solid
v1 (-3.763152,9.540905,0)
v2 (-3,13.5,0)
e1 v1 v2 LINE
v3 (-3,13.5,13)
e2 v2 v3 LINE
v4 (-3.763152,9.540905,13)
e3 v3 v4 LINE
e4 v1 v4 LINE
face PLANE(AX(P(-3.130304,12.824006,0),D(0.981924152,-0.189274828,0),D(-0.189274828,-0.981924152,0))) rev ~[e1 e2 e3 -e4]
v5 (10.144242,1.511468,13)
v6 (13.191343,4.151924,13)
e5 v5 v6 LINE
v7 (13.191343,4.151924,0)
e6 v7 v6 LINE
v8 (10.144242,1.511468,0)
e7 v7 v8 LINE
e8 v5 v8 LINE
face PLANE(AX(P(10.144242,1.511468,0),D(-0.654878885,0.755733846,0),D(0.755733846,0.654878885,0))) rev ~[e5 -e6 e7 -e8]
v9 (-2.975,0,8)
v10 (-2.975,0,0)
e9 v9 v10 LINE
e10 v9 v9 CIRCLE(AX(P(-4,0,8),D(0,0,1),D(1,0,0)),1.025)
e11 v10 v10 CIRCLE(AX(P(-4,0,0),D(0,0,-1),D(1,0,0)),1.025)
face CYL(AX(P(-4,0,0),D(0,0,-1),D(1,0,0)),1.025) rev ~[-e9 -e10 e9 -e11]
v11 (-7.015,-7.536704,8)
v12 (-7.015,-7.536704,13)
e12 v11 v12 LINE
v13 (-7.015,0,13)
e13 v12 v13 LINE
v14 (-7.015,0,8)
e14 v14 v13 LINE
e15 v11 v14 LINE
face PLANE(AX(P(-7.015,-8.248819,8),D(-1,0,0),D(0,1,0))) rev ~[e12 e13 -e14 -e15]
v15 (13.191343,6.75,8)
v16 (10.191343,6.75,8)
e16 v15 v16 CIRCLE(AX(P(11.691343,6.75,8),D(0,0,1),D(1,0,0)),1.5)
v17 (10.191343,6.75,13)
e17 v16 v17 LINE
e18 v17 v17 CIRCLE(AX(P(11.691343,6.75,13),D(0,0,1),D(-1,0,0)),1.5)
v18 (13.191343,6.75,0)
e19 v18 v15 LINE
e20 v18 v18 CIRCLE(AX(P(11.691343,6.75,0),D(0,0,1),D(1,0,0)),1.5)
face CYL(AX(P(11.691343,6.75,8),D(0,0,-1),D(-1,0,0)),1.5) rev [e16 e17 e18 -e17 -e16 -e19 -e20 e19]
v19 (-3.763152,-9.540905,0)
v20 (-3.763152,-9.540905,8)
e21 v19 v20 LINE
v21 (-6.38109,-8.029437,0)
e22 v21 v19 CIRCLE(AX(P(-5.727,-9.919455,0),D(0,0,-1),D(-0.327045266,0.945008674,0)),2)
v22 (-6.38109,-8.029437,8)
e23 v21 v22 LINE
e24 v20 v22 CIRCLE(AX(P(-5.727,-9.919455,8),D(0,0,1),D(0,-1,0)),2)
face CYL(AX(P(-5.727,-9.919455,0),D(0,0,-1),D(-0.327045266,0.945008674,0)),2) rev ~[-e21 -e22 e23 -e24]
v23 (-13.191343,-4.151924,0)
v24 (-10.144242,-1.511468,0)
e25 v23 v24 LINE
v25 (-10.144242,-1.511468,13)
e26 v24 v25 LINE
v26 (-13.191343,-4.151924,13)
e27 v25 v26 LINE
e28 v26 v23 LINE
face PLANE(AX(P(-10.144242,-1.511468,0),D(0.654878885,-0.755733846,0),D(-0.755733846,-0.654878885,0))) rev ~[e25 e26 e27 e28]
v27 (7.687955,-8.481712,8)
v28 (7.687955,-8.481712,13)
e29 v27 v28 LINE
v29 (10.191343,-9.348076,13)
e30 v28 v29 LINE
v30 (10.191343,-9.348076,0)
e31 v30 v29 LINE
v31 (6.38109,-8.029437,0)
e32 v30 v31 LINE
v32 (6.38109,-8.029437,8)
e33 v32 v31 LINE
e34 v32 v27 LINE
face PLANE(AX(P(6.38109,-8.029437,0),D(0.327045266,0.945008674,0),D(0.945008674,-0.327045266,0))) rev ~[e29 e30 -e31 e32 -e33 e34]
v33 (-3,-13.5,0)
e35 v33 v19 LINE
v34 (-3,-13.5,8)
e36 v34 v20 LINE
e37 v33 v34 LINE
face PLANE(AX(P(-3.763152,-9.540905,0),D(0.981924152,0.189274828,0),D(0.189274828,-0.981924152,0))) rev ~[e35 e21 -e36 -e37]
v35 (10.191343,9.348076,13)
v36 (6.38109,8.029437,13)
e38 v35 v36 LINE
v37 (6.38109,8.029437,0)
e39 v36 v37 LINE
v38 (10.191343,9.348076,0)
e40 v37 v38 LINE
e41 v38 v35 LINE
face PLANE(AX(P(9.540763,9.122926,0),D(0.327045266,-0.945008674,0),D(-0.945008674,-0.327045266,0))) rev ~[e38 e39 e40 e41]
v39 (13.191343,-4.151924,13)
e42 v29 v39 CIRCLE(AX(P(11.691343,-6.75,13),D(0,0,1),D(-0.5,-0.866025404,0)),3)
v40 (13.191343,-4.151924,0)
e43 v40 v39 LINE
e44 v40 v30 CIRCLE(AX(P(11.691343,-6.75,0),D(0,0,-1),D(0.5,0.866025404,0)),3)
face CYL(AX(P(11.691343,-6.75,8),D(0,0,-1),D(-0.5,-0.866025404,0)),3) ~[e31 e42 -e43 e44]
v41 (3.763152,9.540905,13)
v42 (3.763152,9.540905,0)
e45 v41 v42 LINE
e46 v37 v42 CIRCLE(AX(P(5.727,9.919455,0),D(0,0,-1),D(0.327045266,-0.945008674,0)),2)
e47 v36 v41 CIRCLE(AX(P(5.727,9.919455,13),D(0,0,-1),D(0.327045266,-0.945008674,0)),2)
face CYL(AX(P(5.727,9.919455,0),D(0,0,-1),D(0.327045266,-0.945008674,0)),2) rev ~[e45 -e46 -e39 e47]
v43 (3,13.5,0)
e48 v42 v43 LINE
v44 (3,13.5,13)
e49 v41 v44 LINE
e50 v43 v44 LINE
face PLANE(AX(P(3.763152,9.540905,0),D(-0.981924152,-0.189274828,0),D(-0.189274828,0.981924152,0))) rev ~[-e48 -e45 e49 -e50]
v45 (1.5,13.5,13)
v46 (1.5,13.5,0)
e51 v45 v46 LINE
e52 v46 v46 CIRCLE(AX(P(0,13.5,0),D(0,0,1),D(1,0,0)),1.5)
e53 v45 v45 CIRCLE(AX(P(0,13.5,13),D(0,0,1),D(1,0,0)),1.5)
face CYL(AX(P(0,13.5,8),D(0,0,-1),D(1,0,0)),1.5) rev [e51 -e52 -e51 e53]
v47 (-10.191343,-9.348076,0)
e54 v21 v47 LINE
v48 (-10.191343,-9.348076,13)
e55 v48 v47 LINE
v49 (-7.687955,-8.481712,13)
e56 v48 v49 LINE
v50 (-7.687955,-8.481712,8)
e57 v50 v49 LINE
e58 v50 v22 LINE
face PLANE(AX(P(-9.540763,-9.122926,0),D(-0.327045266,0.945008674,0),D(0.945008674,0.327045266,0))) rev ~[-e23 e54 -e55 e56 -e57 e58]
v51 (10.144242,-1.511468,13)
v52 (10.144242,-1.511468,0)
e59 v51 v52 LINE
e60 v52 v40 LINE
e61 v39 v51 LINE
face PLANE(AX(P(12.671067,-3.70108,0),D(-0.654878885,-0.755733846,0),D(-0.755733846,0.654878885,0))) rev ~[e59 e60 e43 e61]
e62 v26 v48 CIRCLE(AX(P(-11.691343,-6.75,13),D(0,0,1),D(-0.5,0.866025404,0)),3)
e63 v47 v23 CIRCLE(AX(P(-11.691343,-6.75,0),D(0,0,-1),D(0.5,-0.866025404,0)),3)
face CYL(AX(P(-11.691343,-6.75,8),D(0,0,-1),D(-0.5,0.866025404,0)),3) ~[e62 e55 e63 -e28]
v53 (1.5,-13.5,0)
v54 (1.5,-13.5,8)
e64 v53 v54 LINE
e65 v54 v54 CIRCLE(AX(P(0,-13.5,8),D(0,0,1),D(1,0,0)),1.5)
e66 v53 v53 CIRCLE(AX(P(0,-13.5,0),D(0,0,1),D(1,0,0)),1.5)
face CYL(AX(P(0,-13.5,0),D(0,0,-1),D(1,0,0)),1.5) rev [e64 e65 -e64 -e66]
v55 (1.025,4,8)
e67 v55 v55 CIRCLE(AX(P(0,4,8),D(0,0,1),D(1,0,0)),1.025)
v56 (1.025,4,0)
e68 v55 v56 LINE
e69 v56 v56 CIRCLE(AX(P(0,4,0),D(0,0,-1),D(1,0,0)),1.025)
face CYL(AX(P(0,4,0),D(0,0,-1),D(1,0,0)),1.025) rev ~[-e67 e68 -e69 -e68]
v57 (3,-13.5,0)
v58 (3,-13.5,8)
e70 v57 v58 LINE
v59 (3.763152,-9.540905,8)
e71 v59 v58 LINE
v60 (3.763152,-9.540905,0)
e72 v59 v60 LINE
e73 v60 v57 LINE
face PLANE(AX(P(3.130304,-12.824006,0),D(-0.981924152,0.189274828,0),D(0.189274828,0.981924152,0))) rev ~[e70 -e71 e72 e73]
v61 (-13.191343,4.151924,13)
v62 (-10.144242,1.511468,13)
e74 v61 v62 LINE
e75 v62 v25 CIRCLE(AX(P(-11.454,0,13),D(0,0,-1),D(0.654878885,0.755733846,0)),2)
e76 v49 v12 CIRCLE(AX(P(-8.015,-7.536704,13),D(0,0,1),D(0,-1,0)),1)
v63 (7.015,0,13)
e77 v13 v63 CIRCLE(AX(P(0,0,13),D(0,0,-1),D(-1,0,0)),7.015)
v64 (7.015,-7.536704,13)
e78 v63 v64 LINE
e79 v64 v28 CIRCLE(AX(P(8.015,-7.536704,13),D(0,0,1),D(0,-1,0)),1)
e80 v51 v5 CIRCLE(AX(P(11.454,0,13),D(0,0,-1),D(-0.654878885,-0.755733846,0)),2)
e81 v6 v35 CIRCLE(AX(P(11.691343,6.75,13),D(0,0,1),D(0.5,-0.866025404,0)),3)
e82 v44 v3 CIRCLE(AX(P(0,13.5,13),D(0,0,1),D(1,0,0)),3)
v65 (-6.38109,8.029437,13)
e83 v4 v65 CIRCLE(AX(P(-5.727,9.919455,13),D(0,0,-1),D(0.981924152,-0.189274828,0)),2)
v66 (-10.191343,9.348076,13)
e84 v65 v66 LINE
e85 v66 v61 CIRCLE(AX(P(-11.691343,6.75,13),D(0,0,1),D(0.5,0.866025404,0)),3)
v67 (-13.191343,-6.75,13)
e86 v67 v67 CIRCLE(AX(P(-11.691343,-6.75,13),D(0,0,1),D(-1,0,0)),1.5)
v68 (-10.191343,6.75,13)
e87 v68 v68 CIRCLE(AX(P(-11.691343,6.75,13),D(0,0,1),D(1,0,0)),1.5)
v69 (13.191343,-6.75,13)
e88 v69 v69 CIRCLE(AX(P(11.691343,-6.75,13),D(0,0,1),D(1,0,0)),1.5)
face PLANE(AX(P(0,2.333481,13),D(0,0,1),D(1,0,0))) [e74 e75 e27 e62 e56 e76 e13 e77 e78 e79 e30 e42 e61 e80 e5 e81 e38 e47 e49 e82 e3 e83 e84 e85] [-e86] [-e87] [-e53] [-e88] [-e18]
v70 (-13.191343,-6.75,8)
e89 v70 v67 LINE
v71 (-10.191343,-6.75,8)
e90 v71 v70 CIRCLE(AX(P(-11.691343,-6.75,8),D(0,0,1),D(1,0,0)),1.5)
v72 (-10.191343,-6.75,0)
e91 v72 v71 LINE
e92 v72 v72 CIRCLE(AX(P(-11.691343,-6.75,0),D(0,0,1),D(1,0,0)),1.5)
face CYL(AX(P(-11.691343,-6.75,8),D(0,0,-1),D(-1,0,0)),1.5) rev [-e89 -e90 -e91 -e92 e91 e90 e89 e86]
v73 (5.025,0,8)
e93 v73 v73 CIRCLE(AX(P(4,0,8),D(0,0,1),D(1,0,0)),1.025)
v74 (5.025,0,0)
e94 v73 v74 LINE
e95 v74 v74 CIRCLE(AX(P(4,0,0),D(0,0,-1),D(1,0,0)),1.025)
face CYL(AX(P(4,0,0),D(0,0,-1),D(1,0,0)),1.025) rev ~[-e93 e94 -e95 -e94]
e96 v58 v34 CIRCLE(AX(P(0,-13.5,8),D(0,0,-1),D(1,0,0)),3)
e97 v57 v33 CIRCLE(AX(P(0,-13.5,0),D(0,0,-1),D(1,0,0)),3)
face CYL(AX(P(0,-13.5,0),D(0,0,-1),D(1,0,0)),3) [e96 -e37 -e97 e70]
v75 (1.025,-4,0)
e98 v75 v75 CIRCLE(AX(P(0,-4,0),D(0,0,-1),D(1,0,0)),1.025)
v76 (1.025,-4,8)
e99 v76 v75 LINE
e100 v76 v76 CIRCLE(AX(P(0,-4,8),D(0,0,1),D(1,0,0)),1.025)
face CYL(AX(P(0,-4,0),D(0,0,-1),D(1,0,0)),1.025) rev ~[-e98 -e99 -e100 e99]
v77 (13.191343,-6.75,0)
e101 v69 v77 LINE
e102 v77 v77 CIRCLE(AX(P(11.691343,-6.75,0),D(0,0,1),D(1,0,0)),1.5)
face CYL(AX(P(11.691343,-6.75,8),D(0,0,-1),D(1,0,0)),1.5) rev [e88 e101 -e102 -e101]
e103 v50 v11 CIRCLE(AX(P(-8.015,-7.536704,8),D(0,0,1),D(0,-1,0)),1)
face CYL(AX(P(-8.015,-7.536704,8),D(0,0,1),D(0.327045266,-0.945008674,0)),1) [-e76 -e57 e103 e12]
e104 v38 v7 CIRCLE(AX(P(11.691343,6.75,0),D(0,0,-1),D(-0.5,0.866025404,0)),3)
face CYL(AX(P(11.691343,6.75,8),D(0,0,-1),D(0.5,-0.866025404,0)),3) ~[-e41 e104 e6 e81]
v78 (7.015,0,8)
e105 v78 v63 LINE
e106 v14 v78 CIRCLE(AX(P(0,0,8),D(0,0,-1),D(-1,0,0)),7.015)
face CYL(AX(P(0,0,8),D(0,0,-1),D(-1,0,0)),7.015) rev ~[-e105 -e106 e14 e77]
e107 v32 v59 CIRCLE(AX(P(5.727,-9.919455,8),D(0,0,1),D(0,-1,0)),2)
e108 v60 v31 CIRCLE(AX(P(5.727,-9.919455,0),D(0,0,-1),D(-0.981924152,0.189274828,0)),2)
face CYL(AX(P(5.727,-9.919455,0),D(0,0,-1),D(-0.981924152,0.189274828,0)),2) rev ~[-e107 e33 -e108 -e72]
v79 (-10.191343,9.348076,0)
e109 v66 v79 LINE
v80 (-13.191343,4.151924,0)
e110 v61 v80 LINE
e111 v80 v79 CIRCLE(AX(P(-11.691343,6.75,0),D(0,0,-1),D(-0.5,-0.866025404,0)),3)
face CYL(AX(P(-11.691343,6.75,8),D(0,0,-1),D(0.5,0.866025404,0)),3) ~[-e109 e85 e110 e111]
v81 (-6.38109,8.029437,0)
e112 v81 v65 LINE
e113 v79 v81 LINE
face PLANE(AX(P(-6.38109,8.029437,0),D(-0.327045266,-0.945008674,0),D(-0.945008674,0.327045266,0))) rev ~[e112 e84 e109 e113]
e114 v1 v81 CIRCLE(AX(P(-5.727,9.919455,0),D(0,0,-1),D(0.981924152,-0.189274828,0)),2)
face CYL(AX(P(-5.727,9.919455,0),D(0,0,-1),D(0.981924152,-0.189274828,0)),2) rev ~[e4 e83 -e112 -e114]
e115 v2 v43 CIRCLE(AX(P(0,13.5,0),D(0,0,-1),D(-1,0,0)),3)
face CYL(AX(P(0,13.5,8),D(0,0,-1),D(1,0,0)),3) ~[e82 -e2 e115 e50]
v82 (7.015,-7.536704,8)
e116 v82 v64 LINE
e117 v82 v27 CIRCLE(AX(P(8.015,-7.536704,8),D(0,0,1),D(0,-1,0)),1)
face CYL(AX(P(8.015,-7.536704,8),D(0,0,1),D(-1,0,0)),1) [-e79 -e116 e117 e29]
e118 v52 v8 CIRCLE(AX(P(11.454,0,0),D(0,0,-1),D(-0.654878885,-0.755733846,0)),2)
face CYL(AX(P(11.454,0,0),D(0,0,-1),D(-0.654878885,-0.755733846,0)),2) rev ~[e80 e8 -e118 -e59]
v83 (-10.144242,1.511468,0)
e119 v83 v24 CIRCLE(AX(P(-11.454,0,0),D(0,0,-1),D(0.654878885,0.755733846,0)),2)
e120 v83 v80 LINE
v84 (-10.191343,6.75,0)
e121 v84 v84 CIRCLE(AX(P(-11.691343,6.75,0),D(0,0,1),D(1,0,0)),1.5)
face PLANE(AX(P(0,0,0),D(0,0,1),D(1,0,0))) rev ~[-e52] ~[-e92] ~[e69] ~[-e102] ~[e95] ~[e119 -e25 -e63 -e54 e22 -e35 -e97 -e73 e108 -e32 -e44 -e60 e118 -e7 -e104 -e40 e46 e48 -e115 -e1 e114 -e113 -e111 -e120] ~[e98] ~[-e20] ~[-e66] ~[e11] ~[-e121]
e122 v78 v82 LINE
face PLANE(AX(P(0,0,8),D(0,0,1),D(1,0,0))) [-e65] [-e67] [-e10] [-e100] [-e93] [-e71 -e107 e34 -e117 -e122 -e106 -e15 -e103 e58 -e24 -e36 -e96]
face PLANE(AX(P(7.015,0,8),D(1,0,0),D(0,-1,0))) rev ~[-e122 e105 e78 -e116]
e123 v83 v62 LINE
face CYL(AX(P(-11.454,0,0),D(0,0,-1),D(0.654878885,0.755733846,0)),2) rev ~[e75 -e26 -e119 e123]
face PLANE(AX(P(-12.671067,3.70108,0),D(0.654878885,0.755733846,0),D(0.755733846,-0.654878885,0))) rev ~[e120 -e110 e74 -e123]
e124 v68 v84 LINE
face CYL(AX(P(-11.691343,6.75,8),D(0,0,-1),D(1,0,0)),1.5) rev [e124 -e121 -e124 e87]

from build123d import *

# Parameters (mm, degrees)
SKETCH_2_R          = 18
SKETCH_2_R_2        = 1.4999999999999998
SKETCH_2_R_3        = 1.5000000000000022
SKETCH_2_R_4        = 1.5000000000000007
SKETCH_2_R_5        = 10.499999999999998
SKETCH_2_R_6        = 1.4999999999999987
EXTRUDE_1_DEPTH     = 8
EXTRUDE_START       = -4
SKETCH_6_R          = 10.499999999999998
EXTRUDE_2_DEPTH     = 4
SKETCH_7_R          = 2.9999999999999996
SKETCH_7_R_2        = 1.5000000000000004
SKETCH_7_R_3        = 1.5000000000000013
EXTRUDE_3_DEPTH     = 4
SKETCH_9_R          = 1.025
SKETCH_9_R_2        = 1.0250000000000001
CUT_EXTRUDE_2_DEPTH = 4
CUT_EXTRUDE_3_DEPTH = 13.000000000000002
CUT_EXTRUDE_4_DEPTH = 23
CUT_EXTRUDE_START   = -8
SKETCH_13_R         = 18
CUT_EXTRUDE_5_DEPTH = 8
FILLET_6_R          = 2
FILLET_7_R          = 2
SKETCH_22_R         = 26.500000000000004
CUT_EXTRUDE_7_DEPTH = 4
SKETCH_23_R         = 1.5000000000000024
SKETCH_23_R_2       = 1.4999999999999998
EXTRUDE_4_DEPTH     = 5
FILLET_8_R          = 1
EXTRUDE_START_2     = 4
SKETCH_24_R         = 1.0250000000000001
SKETCH_24_R_2       = 1.025
EXTRUDE_5_DEPTH     = 4


with BuildPart() as part:
    # 草图2 → 凸台-拉伸1 (new body)
    with BuildSketch(Plane.XY):
        Circle(SKETCH_2_R)
        with Locations((0, 13.5)):
            Circle(SKETCH_2_R_2, mode=Mode.SUBTRACT)
        with Locations((11.691342951089924, -6.749999999999998)):
            Circle(SKETCH_2_R_3, mode=Mode.SUBTRACT)
        with Locations((-11.691342951089919, -6.750000000000006)):
            Circle(SKETCH_2_R_4, mode=Mode.SUBTRACT)
        Circle(SKETCH_2_R_5, mode=Mode.SUBTRACT)
        with Locations((0, -13.5)):
            Circle(SKETCH_2_R_2, mode=Mode.SUBTRACT)
        with Locations((-11.691342951089924, 6.749999999999997)):
            Circle(SKETCH_2_R_6, mode=Mode.SUBTRACT)
        with Locations((11.691342951089919, 6.750000000000008)):
            Circle(SKETCH_2_R_4, mode=Mode.SUBTRACT)
    extrude(amount=EXTRUDE_1_DEPTH)

    # 草图6 → 凸台-拉伸2 (add)
    with BuildSketch(Plane.XY.offset(8).offset(EXTRUDE_START)):
        Circle(SKETCH_6_R)
    extrude(amount=EXTRUDE_2_DEPTH)

    # 草图9 → 切除-拉伸2 (cut)
    with BuildSketch(Plane.XY.offset(8)):
        with Locations((0, 4)):
            Circle(SKETCH_9_R)
        with Locations((-4, 2.4e-16)):
            Circle(SKETCH_9_R_2)
        with Locations((4.9e-16, -4)):
            Circle(SKETCH_9_R)
        with Locations((4, 2.4e-16)):
            Circle(SKETCH_9_R_2)
    extrude(amount=-CUT_EXTRUDE_2_DEPTH, mode=Mode.SUBTRACT)

    # 草图13 → 切除-拉伸5 (cut)
    with BuildSketch(Plane.XY.offset(8).offset(CUT_EXTRUDE_START)):
        Circle(SKETCH_13_R)
        with BuildLine():
            Line((-4.2, 7.274613391789286), (-3.0000000000000004, 13.5))
            ThreePointArc((-3.0000000000000004, 13.5), (1.8e-16, 16.5), (3.0000000000000004, 13.5))
            Line((3.0000000000000004, 13.5), (4.2, 7.274613391789286))
            Line((4.2, 7.274613391789286), (10.191342951089922, 9.348076211353316))
            ThreePointArc((10.19134295108992, 9.34807621135332), (13.19134295108992, 9.34807621135332), (14.691342951089922, 6.750000000000004))
            ThreePointArc((14.691342951089922, 6.7500000000000036), (14.289419162443235, 5.250000000000002), (13.191342951089917, 4.151923788646687))
            Line((13.19134295108992, 4.151923788646681), (8.4, 8.9e-16))
            Line((8.4, 8.9e-16), (13.19134295108992, -4.151923788646685))
            ThreePointArc((13.191342951089924, -4.151923788646679), (14.289419162443242, -5.249999999999996), (14.691342951089926, -6.749999999999997))
            ThreePointArc((14.691342951089926, -6.749999999999998), (13.191342951089924, -9.348076211353316), (10.191342951089919, -9.348076211353312))
            Line((10.191342951089919, -9.348076211353318), (4.200000000000001, -7.274613391789285))
            Line((4.200000000000001, -7.274613391789285), (2.999999999999996, -13.5))
            ThreePointArc((3.000000000000002, -13.5), (1.18e-15, -16.5), (-2.9999999999999987, -13.5))
            Line((-3.000000000000005, -13.499999999999996), (-4.199999999999998, -7.274613391789289))
            Line((-4.199999999999998, -7.274613391789289), (-10.191342951089924, -9.34807621135331))
            ThreePointArc((-10.191342951089917, -9.348076211353325), (-14.289419162443238, -8.250000000000007), (-13.191342951089919, -4.1519237886466875))
            Line((-13.191342951089924, -4.151923788646676), (-8.4, -6.22e-15))
            Line((-8.4, -6.22e-15), (-13.191342951089919, 4.151923788646697))
            ThreePointArc((-13.191342951089933, 4.151923788646676), (-14.289419162443243, 8.249999999999995), (-10.191342951089926, 9.348076211353307))
            Line((-10.191342951089913, 9.348076211353327), (-4.2, 7.274613391789286))
        make_face(mode=Mode.SUBTRACT)
    extrude(amount=CUT_EXTRUDE_5_DEPTH, mode=Mode.SUBTRACT)

    # 圆角6
    fillet_6_edges = [part.edges().sort_by_distance(p)[0] for p in [
        (-3.7087365602143945, 9.823200757743328, 2),
        (-4.2, 7.274613391789286, 6),
        (-10.361509682787466, -1.6997403017818833, 2),
        (-3.708736560214394, -9.823200757743328, 2),
        (6.652773122573071, -8.123460455961444, 2),
        (10.361509682787464, 1.6997403017818842, 2),
        (3.7087365602143936, 9.823200757743328, 2),
        (-6.652773122573068, 8.123460455961448, 2),
        (-10.361509682787464, 1.6997403017818868, 2),
        (-8.4, -6.22e-15, 6),
        (-6.652773122573072, -8.123460455961444, 2),
        (-4.199999999999998, -7.274613391789289, 6),
        (3.7087365602143914, -9.823200757743328, 2),
        (4.200000000000001, -7.274613391789285, 6),
        (10.361509682787466, -1.6997403017818833, 2),
        (8.4, 8.9e-16, 6),
        (6.652773122573071, 8.123460455961444, 2),
        (4.2, 7.274613391789286, 6),
    ]]
    fillet(fillet_6_edges, radius=FILLET_6_R)

    # 草图23 → 凸台-拉伸4 (add)
    with BuildSketch(Plane.XY.offset(8)):
        with BuildLine():
            Line((7.015, 0), (7.015, -8.248818655070188))
            Line((7.015, -8.248818655070188), (10.191342951089933, -9.348076211353321))
            ThreePointArc((10.191342951089933, -9.348076211353321), (14.289419162443245, -8.249999999999993), (13.19134295108992, -4.151923788646683))
            Line((13.19134295108992, -4.151923788646683), (10.144242051851217, -1.5114676912433453))
            ThreePointArc((10.144242051851217, -1.5114676912433453), (9.45399982271097, 1.11e-15), (10.144242051851217, 1.5114676912433471))
            Line((10.144242051851217, 1.5114676912433471), (13.19134295108992, 4.151923788646685))
            ThreePointArc((13.19134295108992, 4.151923788646685), (14.289419162443243, 8.249999999999995), (10.191342951089933, 9.348076211353321))
            Line((10.191342951089933, 9.348076211353321), (7.015, 8.248818655070192))
            Line((7.015, 8.248818655070192), (6.381090443541757, 8.029437473419858))
            ThreePointArc((6.381090443541757, 8.029437473419858), (4.726999911355481, 8.187404013841277), (3.7631516083094527, 9.540905164663204))
            Line((3.7631516083094527, 9.540905164663204), (2.9999999999999996, 13.5))
            ThreePointArc((2.9999999999999996, 13.5), (1.8e-16, 16.5), (-2.9999999999999996, 13.5))
            Line((-2.9999999999999996, 13.5), (-3.7631516083094527, 9.540905164663204))
            ThreePointArc((-3.7631516083094527, 9.540905164663204), (-4.726999911355481, 8.187404013841277), (-6.381090443541757, 8.029437473419858))
            Line((-6.381090443541757, 8.029437473419858), (-7.015, 8.248818655070192))
            Line((-7.015, 8.248818655070192), (-10.191342951089933, 9.348076211353321))
            ThreePointArc((-10.191342951089933, 9.348076211353321), (-14.289419162443243, 8.249999999999995), (-13.19134295108992, 4.151923788646685))
            Line((-13.19134295108992, 4.151923788646685), (-10.144242051851217, 1.5114676912433471))
            ThreePointArc((-10.144242051851217, 1.5114676912433471), (-9.45399982271097, 8.7e-16), (-10.144242051851217, -1.5114676912433453))
            Line((-10.144242051851217, -1.5114676912433453), (-13.19134295108992, -4.151923788646683))
            ThreePointArc((-13.19134295108992, -4.151923788646683), (-14.289419162443245, -8.249999999999993), (-10.191342951089933, -9.348076211353321))
            Line((-10.191342951089933, -9.348076211353321), (-7.015, -8.248818655070188))
            Line((-7.015, -8.248818655070188), (-7.015, 0))
            ThreePointArc((-7.015, 0), (4.3e-16, 7.015), (7.015, 0))
        make_face()
        with Locations((11.691342951089924, -6.749999999999998)):
            Circle(SKETCH_23_R, mode=Mode.SUBTRACT)
        with Locations(Location((11.691342951089924, 6.75, 0), (0, 0, 180))):
            Circle(SKETCH_23_R, mode=Mode.SUBTRACT)
        with Locations((0, 13.5)):
            Circle(SKETCH_23_R_2, mode=Mode.SUBTRACT)
        with Locations(Location((-11.691342951089924, -6.749999999999998, 0), (0, 0, 180))):
            Circle(SKETCH_23_R, mode=Mode.SUBTRACT)
        with Locations((-11.691342951089924, 6.75)):
            Circle(SKETCH_23_R, mode=Mode.SUBTRACT)
    extrude(amount=EXTRUDE_4_DEPTH)

    # 圆角8
    fillet_8_edges = [part.edges().sort_by_distance(p)[0] for p in [
        (7.015, -8.248818655070188, 10.5),
        (-7.015, -8.248818655070188, 10.5),
    ]]
    fillet(fillet_8_edges, radius=FILLET_8_R)

    # 草图24 → 凸台-拉伸5 (add)
    with BuildSketch(Plane(origin=(0, 0, 4), x_dir=(-1, 0, 0), z_dir=(0, 0, -1)).offset(EXTRUDE_START_2)):
        with BuildLine():
            Line((-3.7631516083094545, 9.540905164663204), (-3.130304023425084, 12.824005897977921))
            ThreePointArc((-3.130304023425084, 12.824005897977921), (-2.647549400093676, 11.101446750226756), (-0.9798228051184064, 10.454183242634018))
            ThreePointArc((-0.9798228051184064, 10.454183242634018), (6.4e-16, 10.499999999999998), (0.9798228051184061, 10.454183242634016))
            ThreePointArc((0.9798228051184061, 10.454183242634016), (2.647549400093674, 11.101446750226758), (3.130304023425079, 12.824005897977921))
            Line((3.130304023425079, 12.824005897977921), (3.763151608309469, 9.540905164663112))
            ThreePointArc((3.763151608309469, 9.540905164663112), (4.726999911355525, 8.187404013841222), (6.38109044354178, 8.029437473419842))
            Line((6.38109044354178, 8.029437473419842), (9.540762874217831, 9.122925754843699))
            ThreePointArc((9.540762874217831, 9.122925754843699), (8.290360204409751, 7.8435684133687325), (8.56367686137945, 6.075643061756859))
            ThreePointArc((8.56367686137945, 6.075643061756859), (9.093266739736617, 5.249999999999978), (9.54349966649785, 4.378540180877117))
            ThreePointArc((9.54349966649785, 4.378540180877117), (10.937909604503425, 3.2578783368579787), (12.671066897642891, 3.701080143134205))
            Line((12.671066897642891, 3.701080143134205), (10.14424205185114, 1.5114676912432894))
            ThreePointArc((10.14424205185114, 1.5114676912432894), (9.45399982271092, -7.925e-14), (10.144242051851208, -1.5114676912433949))
            Line((10.144242051851208, -1.5114676912433949), (12.671066897642879, -3.7010801431342593))
            ThreePointArc((12.671066897642879, -3.7010801431342593), (10.937909604503396, -3.257878336858057), (9.543499666497823, -4.378540180877186))
            ThreePointArc((9.543499666497823, -4.378540180877186), (9.093266739736583, -5.250000000000044), (8.563676861379406, -6.075643061756919))
            ThreePointArc((8.563676861379406, -6.075643061756919), (8.290360204409705, -7.843568413368805), (9.540762874217815, -9.122925754843717))
            Line((9.540762874217815, -9.122925754843717), (6.381090443541676, -8.029437473419822))
            ThreePointArc((6.381090443541676, -8.029437473419822), (4.726999911355367, -8.187404013841265), (3.763151608309388, -9.540905164663233))
            Line((3.763151608309388, -9.540905164663233), (3.1303040234249946, -12.824005897977946))
            ThreePointArc((3.1303040234249946, -12.824005897977946), (2.647549400093598, -11.101446750226778), (0.9798228051183333, -10.454183242634029))
            ThreePointArc((0.9798228051183333, -10.454183242634029), (-7.396e-14, -10.500000000000002), (-0.9798228051184793, -10.454183242634013))
            ThreePointArc((-0.9798228051184793, -10.454183242634013), (-2.647549400093763, -11.101446750226756), (-3.130304023425077, -12.824005897977921))
            Line((-3.130304023425077, -12.824005897977921), (-3.763151608309468, -9.540905164663112))
            ThreePointArc((-3.763151608309468, -9.540905164663112), (-4.726999911355536, -8.187404013841146), (-6.381090443541838, -8.029437473419797))
            Line((-6.381090443541838, -8.029437473419797), (-9.540762874217897, -9.122925754843633))
            ThreePointArc((-9.540762874217897, -9.122925754843633), (-8.29036020440981, -7.843568413368676), (-8.563676861379493, -6.075643061756799))
            ThreePointArc((-8.563676861379493, -6.075643061756799), (-9.093266739736658, -5.249999999999916), (-9.543499666497883, -4.378540180877051))
            ThreePointArc((-9.543499666497883, -4.378540180877051), (-10.937909604503469, -3.2578783368579), (-12.67106689764289, -3.70108014313421))
            Line((-12.67106689764289, -3.70108014313421), (-10.14424205185114, -1.5114676912432934))
            ThreePointArc((-10.14424205185114, -1.5114676912432934), (-9.453999822710855, 1.3597e-13), (-10.14424205185128, 1.5114676912434042))
            Line((-10.14424205185128, 1.5114676912434042), (-12.671066897642895, 3.7010801431342033))
            ThreePointArc((-12.671066897642895, 3.7010801431342033), (-10.937909604503313, 3.2578783368580044), (-9.54349966649779, 4.378540180877251))
            ThreePointArc((-9.54349966649779, 4.378540180877251), (-9.093266739736544, 5.250000000000108), (-8.563676861379363, 6.075643061756977))
            ThreePointArc((-8.563676861379363, 6.075643061756977), (-8.290360204409655, 7.84356841336888), (-9.540762874217819, 9.12292575484371))
            Line((-9.540762874217819, 9.12292575484371), (-6.381090443541672, 8.029437473419822))
            ThreePointArc((-6.381090443541672, 8.029437473419822), (-4.72699991135544, 8.187404013841295), (-3.7631516083094545, 9.540905164663204))
        make_face()
        with Locations(Location((-4, 2.4e-16, 0), (0, 0, 180))):
            Circle(SKETCH_24_R, mode=Mode.SUBTRACT)
        with Locations(Location((0, 4, 0), (0, 0, 180))):
            Circle(SKETCH_24_R_2, mode=Mode.SUBTRACT)
        with Locations(Location((4, 2.4e-16, 0), (0, 0, 180))):
            Circle(SKETCH_24_R, mode=Mode.SUBTRACT)
        with Locations(Location((-4.9e-16, -4, 0), (0, 0, 180))):
            Circle(SKETCH_24_R_2, mode=Mode.SUBTRACT)
    extrude(amount=-EXTRUDE_5_DEPTH)


with BuildPart() as body_2:
    # 草图7 → 凸台-拉伸3 (new body)
    with BuildSketch(Plane.XY.offset(8)):
        with BuildLine():
            Line((-7.5, 0), (-7.5, 20))
            ThreePointArc((-7.5, 20), (4.6e-16, 27.5), (7.5, 20))
            Line((7.5, 20), (7.5, 0))
            ThreePointArc((7.5, 0), (-1.38e-15, -7.5), (-7.5, 0))
        make_face()
        with Locations((0, 20)):
            Circle(SKETCH_7_R, mode=Mode.SUBTRACT)
        with Locations((0, 4)):
            Circle(SKETCH_7_R_2, mode=Mode.SUBTRACT)
        with Locations((4, 2.4e-16)):
            Circle(SKETCH_7_R_3, mode=Mode.SUBTRACT)
        with Locations((4.9e-16, -4)):
            Circle(SKETCH_7_R_2, mode=Mode.SUBTRACT)
        with Locations((-4, 2.4e-16)):
            Circle(SKETCH_7_R_3, mode=Mode.SUBTRACT)
    extrude(amount=EXTRUDE_3_DEPTH)

    # 草图11 → 切除-拉伸3 (cut)
    with BuildSketch(Plane.XY.offset(12)):
        with BuildLine():
            Line((-7.5, 18.26794919243113), (-6.5, 20))
            ThreePointArc((-6.500000000000001, 20), (4e-16, 26.5), (6.500000000000001, 20))
            Line((6.500000000000002, 20), (7.5000000000000036, 18.267949192431132))
            Line((7.5, 18.267949192431132), (7.5, 20))
            ThreePointArc((7.5, 20), (2.12e-15, 27.5), (-7.5, 20.000000000000004))
            Line((-7.5, 20), (-7.5, 18.26794919243113))
        make_face()
    extrude(amount=-CUT_EXTRUDE_3_DEPTH, mode=Mode.SUBTRACT)

    # 草图12 → 切除-拉伸4 (cut)
    with BuildSketch(Plane.XY.offset(12)):
        with BuildLine():
            Line((2.800000000000002, 12), (2.800000000000002, 10))
            ThreePointArc((2.800000000000002, 10), (1.93e-15, 7.199999999999999), (-2.7999999999999976, 10))
            Line((-2.7999999999999976, 10), (-2.7999999999999976, 12))
            ThreePointArc((-2.7999999999999976, 12), (2.38e-15, 14.8), (2.800000000000002, 12))
        make_face()
    extrude(amount=-CUT_EXTRUDE_4_DEPTH, mode=Mode.SUBTRACT)

    # 草图20 → M4 六角凹锥坑螺钉的锥形沉头孔2 (revolve, cut)
    with BuildSketch(Plane(origin=(0, 20, 8), x_dir=(0, 1, 0), z_dir=(1, 0, 0))):
        Polygon((0, 0), (-2.78e-15, 11.35193639281201), (2.2499999999999982, 10), (2.249999999999999, 2.2300000000000004), (4.480000000000001, -1.73e-15), align=None)
    revolve(axis=Axis((0, 20, 1.6500000000000092), (0, 0, 1)), mode=Mode.SUBTRACT)

    # 圆角7
    fillet_7_edges = [body_2.edges().sort_by_distance(p)[0] for p in [
        (-7.5, 18.26794919243113, 10),
        (6.500000000000002, 20, 10),
        (7.500000000000002, 18.267949192431132, 10),
        (-6.5, 20, 10),
    ]]
    fillet(fillet_7_edges, radius=FILLET_7_R)

    # 草图22 → 切除-拉伸7 (cut)
    with BuildSketch(Plane.XY.offset(12)):
        Circle(SKETCH_22_R)
    extrude(amount=-CUT_EXTRUDE_7_DEPTH, mode=Mode.SUBTRACT)


solid = part.part
